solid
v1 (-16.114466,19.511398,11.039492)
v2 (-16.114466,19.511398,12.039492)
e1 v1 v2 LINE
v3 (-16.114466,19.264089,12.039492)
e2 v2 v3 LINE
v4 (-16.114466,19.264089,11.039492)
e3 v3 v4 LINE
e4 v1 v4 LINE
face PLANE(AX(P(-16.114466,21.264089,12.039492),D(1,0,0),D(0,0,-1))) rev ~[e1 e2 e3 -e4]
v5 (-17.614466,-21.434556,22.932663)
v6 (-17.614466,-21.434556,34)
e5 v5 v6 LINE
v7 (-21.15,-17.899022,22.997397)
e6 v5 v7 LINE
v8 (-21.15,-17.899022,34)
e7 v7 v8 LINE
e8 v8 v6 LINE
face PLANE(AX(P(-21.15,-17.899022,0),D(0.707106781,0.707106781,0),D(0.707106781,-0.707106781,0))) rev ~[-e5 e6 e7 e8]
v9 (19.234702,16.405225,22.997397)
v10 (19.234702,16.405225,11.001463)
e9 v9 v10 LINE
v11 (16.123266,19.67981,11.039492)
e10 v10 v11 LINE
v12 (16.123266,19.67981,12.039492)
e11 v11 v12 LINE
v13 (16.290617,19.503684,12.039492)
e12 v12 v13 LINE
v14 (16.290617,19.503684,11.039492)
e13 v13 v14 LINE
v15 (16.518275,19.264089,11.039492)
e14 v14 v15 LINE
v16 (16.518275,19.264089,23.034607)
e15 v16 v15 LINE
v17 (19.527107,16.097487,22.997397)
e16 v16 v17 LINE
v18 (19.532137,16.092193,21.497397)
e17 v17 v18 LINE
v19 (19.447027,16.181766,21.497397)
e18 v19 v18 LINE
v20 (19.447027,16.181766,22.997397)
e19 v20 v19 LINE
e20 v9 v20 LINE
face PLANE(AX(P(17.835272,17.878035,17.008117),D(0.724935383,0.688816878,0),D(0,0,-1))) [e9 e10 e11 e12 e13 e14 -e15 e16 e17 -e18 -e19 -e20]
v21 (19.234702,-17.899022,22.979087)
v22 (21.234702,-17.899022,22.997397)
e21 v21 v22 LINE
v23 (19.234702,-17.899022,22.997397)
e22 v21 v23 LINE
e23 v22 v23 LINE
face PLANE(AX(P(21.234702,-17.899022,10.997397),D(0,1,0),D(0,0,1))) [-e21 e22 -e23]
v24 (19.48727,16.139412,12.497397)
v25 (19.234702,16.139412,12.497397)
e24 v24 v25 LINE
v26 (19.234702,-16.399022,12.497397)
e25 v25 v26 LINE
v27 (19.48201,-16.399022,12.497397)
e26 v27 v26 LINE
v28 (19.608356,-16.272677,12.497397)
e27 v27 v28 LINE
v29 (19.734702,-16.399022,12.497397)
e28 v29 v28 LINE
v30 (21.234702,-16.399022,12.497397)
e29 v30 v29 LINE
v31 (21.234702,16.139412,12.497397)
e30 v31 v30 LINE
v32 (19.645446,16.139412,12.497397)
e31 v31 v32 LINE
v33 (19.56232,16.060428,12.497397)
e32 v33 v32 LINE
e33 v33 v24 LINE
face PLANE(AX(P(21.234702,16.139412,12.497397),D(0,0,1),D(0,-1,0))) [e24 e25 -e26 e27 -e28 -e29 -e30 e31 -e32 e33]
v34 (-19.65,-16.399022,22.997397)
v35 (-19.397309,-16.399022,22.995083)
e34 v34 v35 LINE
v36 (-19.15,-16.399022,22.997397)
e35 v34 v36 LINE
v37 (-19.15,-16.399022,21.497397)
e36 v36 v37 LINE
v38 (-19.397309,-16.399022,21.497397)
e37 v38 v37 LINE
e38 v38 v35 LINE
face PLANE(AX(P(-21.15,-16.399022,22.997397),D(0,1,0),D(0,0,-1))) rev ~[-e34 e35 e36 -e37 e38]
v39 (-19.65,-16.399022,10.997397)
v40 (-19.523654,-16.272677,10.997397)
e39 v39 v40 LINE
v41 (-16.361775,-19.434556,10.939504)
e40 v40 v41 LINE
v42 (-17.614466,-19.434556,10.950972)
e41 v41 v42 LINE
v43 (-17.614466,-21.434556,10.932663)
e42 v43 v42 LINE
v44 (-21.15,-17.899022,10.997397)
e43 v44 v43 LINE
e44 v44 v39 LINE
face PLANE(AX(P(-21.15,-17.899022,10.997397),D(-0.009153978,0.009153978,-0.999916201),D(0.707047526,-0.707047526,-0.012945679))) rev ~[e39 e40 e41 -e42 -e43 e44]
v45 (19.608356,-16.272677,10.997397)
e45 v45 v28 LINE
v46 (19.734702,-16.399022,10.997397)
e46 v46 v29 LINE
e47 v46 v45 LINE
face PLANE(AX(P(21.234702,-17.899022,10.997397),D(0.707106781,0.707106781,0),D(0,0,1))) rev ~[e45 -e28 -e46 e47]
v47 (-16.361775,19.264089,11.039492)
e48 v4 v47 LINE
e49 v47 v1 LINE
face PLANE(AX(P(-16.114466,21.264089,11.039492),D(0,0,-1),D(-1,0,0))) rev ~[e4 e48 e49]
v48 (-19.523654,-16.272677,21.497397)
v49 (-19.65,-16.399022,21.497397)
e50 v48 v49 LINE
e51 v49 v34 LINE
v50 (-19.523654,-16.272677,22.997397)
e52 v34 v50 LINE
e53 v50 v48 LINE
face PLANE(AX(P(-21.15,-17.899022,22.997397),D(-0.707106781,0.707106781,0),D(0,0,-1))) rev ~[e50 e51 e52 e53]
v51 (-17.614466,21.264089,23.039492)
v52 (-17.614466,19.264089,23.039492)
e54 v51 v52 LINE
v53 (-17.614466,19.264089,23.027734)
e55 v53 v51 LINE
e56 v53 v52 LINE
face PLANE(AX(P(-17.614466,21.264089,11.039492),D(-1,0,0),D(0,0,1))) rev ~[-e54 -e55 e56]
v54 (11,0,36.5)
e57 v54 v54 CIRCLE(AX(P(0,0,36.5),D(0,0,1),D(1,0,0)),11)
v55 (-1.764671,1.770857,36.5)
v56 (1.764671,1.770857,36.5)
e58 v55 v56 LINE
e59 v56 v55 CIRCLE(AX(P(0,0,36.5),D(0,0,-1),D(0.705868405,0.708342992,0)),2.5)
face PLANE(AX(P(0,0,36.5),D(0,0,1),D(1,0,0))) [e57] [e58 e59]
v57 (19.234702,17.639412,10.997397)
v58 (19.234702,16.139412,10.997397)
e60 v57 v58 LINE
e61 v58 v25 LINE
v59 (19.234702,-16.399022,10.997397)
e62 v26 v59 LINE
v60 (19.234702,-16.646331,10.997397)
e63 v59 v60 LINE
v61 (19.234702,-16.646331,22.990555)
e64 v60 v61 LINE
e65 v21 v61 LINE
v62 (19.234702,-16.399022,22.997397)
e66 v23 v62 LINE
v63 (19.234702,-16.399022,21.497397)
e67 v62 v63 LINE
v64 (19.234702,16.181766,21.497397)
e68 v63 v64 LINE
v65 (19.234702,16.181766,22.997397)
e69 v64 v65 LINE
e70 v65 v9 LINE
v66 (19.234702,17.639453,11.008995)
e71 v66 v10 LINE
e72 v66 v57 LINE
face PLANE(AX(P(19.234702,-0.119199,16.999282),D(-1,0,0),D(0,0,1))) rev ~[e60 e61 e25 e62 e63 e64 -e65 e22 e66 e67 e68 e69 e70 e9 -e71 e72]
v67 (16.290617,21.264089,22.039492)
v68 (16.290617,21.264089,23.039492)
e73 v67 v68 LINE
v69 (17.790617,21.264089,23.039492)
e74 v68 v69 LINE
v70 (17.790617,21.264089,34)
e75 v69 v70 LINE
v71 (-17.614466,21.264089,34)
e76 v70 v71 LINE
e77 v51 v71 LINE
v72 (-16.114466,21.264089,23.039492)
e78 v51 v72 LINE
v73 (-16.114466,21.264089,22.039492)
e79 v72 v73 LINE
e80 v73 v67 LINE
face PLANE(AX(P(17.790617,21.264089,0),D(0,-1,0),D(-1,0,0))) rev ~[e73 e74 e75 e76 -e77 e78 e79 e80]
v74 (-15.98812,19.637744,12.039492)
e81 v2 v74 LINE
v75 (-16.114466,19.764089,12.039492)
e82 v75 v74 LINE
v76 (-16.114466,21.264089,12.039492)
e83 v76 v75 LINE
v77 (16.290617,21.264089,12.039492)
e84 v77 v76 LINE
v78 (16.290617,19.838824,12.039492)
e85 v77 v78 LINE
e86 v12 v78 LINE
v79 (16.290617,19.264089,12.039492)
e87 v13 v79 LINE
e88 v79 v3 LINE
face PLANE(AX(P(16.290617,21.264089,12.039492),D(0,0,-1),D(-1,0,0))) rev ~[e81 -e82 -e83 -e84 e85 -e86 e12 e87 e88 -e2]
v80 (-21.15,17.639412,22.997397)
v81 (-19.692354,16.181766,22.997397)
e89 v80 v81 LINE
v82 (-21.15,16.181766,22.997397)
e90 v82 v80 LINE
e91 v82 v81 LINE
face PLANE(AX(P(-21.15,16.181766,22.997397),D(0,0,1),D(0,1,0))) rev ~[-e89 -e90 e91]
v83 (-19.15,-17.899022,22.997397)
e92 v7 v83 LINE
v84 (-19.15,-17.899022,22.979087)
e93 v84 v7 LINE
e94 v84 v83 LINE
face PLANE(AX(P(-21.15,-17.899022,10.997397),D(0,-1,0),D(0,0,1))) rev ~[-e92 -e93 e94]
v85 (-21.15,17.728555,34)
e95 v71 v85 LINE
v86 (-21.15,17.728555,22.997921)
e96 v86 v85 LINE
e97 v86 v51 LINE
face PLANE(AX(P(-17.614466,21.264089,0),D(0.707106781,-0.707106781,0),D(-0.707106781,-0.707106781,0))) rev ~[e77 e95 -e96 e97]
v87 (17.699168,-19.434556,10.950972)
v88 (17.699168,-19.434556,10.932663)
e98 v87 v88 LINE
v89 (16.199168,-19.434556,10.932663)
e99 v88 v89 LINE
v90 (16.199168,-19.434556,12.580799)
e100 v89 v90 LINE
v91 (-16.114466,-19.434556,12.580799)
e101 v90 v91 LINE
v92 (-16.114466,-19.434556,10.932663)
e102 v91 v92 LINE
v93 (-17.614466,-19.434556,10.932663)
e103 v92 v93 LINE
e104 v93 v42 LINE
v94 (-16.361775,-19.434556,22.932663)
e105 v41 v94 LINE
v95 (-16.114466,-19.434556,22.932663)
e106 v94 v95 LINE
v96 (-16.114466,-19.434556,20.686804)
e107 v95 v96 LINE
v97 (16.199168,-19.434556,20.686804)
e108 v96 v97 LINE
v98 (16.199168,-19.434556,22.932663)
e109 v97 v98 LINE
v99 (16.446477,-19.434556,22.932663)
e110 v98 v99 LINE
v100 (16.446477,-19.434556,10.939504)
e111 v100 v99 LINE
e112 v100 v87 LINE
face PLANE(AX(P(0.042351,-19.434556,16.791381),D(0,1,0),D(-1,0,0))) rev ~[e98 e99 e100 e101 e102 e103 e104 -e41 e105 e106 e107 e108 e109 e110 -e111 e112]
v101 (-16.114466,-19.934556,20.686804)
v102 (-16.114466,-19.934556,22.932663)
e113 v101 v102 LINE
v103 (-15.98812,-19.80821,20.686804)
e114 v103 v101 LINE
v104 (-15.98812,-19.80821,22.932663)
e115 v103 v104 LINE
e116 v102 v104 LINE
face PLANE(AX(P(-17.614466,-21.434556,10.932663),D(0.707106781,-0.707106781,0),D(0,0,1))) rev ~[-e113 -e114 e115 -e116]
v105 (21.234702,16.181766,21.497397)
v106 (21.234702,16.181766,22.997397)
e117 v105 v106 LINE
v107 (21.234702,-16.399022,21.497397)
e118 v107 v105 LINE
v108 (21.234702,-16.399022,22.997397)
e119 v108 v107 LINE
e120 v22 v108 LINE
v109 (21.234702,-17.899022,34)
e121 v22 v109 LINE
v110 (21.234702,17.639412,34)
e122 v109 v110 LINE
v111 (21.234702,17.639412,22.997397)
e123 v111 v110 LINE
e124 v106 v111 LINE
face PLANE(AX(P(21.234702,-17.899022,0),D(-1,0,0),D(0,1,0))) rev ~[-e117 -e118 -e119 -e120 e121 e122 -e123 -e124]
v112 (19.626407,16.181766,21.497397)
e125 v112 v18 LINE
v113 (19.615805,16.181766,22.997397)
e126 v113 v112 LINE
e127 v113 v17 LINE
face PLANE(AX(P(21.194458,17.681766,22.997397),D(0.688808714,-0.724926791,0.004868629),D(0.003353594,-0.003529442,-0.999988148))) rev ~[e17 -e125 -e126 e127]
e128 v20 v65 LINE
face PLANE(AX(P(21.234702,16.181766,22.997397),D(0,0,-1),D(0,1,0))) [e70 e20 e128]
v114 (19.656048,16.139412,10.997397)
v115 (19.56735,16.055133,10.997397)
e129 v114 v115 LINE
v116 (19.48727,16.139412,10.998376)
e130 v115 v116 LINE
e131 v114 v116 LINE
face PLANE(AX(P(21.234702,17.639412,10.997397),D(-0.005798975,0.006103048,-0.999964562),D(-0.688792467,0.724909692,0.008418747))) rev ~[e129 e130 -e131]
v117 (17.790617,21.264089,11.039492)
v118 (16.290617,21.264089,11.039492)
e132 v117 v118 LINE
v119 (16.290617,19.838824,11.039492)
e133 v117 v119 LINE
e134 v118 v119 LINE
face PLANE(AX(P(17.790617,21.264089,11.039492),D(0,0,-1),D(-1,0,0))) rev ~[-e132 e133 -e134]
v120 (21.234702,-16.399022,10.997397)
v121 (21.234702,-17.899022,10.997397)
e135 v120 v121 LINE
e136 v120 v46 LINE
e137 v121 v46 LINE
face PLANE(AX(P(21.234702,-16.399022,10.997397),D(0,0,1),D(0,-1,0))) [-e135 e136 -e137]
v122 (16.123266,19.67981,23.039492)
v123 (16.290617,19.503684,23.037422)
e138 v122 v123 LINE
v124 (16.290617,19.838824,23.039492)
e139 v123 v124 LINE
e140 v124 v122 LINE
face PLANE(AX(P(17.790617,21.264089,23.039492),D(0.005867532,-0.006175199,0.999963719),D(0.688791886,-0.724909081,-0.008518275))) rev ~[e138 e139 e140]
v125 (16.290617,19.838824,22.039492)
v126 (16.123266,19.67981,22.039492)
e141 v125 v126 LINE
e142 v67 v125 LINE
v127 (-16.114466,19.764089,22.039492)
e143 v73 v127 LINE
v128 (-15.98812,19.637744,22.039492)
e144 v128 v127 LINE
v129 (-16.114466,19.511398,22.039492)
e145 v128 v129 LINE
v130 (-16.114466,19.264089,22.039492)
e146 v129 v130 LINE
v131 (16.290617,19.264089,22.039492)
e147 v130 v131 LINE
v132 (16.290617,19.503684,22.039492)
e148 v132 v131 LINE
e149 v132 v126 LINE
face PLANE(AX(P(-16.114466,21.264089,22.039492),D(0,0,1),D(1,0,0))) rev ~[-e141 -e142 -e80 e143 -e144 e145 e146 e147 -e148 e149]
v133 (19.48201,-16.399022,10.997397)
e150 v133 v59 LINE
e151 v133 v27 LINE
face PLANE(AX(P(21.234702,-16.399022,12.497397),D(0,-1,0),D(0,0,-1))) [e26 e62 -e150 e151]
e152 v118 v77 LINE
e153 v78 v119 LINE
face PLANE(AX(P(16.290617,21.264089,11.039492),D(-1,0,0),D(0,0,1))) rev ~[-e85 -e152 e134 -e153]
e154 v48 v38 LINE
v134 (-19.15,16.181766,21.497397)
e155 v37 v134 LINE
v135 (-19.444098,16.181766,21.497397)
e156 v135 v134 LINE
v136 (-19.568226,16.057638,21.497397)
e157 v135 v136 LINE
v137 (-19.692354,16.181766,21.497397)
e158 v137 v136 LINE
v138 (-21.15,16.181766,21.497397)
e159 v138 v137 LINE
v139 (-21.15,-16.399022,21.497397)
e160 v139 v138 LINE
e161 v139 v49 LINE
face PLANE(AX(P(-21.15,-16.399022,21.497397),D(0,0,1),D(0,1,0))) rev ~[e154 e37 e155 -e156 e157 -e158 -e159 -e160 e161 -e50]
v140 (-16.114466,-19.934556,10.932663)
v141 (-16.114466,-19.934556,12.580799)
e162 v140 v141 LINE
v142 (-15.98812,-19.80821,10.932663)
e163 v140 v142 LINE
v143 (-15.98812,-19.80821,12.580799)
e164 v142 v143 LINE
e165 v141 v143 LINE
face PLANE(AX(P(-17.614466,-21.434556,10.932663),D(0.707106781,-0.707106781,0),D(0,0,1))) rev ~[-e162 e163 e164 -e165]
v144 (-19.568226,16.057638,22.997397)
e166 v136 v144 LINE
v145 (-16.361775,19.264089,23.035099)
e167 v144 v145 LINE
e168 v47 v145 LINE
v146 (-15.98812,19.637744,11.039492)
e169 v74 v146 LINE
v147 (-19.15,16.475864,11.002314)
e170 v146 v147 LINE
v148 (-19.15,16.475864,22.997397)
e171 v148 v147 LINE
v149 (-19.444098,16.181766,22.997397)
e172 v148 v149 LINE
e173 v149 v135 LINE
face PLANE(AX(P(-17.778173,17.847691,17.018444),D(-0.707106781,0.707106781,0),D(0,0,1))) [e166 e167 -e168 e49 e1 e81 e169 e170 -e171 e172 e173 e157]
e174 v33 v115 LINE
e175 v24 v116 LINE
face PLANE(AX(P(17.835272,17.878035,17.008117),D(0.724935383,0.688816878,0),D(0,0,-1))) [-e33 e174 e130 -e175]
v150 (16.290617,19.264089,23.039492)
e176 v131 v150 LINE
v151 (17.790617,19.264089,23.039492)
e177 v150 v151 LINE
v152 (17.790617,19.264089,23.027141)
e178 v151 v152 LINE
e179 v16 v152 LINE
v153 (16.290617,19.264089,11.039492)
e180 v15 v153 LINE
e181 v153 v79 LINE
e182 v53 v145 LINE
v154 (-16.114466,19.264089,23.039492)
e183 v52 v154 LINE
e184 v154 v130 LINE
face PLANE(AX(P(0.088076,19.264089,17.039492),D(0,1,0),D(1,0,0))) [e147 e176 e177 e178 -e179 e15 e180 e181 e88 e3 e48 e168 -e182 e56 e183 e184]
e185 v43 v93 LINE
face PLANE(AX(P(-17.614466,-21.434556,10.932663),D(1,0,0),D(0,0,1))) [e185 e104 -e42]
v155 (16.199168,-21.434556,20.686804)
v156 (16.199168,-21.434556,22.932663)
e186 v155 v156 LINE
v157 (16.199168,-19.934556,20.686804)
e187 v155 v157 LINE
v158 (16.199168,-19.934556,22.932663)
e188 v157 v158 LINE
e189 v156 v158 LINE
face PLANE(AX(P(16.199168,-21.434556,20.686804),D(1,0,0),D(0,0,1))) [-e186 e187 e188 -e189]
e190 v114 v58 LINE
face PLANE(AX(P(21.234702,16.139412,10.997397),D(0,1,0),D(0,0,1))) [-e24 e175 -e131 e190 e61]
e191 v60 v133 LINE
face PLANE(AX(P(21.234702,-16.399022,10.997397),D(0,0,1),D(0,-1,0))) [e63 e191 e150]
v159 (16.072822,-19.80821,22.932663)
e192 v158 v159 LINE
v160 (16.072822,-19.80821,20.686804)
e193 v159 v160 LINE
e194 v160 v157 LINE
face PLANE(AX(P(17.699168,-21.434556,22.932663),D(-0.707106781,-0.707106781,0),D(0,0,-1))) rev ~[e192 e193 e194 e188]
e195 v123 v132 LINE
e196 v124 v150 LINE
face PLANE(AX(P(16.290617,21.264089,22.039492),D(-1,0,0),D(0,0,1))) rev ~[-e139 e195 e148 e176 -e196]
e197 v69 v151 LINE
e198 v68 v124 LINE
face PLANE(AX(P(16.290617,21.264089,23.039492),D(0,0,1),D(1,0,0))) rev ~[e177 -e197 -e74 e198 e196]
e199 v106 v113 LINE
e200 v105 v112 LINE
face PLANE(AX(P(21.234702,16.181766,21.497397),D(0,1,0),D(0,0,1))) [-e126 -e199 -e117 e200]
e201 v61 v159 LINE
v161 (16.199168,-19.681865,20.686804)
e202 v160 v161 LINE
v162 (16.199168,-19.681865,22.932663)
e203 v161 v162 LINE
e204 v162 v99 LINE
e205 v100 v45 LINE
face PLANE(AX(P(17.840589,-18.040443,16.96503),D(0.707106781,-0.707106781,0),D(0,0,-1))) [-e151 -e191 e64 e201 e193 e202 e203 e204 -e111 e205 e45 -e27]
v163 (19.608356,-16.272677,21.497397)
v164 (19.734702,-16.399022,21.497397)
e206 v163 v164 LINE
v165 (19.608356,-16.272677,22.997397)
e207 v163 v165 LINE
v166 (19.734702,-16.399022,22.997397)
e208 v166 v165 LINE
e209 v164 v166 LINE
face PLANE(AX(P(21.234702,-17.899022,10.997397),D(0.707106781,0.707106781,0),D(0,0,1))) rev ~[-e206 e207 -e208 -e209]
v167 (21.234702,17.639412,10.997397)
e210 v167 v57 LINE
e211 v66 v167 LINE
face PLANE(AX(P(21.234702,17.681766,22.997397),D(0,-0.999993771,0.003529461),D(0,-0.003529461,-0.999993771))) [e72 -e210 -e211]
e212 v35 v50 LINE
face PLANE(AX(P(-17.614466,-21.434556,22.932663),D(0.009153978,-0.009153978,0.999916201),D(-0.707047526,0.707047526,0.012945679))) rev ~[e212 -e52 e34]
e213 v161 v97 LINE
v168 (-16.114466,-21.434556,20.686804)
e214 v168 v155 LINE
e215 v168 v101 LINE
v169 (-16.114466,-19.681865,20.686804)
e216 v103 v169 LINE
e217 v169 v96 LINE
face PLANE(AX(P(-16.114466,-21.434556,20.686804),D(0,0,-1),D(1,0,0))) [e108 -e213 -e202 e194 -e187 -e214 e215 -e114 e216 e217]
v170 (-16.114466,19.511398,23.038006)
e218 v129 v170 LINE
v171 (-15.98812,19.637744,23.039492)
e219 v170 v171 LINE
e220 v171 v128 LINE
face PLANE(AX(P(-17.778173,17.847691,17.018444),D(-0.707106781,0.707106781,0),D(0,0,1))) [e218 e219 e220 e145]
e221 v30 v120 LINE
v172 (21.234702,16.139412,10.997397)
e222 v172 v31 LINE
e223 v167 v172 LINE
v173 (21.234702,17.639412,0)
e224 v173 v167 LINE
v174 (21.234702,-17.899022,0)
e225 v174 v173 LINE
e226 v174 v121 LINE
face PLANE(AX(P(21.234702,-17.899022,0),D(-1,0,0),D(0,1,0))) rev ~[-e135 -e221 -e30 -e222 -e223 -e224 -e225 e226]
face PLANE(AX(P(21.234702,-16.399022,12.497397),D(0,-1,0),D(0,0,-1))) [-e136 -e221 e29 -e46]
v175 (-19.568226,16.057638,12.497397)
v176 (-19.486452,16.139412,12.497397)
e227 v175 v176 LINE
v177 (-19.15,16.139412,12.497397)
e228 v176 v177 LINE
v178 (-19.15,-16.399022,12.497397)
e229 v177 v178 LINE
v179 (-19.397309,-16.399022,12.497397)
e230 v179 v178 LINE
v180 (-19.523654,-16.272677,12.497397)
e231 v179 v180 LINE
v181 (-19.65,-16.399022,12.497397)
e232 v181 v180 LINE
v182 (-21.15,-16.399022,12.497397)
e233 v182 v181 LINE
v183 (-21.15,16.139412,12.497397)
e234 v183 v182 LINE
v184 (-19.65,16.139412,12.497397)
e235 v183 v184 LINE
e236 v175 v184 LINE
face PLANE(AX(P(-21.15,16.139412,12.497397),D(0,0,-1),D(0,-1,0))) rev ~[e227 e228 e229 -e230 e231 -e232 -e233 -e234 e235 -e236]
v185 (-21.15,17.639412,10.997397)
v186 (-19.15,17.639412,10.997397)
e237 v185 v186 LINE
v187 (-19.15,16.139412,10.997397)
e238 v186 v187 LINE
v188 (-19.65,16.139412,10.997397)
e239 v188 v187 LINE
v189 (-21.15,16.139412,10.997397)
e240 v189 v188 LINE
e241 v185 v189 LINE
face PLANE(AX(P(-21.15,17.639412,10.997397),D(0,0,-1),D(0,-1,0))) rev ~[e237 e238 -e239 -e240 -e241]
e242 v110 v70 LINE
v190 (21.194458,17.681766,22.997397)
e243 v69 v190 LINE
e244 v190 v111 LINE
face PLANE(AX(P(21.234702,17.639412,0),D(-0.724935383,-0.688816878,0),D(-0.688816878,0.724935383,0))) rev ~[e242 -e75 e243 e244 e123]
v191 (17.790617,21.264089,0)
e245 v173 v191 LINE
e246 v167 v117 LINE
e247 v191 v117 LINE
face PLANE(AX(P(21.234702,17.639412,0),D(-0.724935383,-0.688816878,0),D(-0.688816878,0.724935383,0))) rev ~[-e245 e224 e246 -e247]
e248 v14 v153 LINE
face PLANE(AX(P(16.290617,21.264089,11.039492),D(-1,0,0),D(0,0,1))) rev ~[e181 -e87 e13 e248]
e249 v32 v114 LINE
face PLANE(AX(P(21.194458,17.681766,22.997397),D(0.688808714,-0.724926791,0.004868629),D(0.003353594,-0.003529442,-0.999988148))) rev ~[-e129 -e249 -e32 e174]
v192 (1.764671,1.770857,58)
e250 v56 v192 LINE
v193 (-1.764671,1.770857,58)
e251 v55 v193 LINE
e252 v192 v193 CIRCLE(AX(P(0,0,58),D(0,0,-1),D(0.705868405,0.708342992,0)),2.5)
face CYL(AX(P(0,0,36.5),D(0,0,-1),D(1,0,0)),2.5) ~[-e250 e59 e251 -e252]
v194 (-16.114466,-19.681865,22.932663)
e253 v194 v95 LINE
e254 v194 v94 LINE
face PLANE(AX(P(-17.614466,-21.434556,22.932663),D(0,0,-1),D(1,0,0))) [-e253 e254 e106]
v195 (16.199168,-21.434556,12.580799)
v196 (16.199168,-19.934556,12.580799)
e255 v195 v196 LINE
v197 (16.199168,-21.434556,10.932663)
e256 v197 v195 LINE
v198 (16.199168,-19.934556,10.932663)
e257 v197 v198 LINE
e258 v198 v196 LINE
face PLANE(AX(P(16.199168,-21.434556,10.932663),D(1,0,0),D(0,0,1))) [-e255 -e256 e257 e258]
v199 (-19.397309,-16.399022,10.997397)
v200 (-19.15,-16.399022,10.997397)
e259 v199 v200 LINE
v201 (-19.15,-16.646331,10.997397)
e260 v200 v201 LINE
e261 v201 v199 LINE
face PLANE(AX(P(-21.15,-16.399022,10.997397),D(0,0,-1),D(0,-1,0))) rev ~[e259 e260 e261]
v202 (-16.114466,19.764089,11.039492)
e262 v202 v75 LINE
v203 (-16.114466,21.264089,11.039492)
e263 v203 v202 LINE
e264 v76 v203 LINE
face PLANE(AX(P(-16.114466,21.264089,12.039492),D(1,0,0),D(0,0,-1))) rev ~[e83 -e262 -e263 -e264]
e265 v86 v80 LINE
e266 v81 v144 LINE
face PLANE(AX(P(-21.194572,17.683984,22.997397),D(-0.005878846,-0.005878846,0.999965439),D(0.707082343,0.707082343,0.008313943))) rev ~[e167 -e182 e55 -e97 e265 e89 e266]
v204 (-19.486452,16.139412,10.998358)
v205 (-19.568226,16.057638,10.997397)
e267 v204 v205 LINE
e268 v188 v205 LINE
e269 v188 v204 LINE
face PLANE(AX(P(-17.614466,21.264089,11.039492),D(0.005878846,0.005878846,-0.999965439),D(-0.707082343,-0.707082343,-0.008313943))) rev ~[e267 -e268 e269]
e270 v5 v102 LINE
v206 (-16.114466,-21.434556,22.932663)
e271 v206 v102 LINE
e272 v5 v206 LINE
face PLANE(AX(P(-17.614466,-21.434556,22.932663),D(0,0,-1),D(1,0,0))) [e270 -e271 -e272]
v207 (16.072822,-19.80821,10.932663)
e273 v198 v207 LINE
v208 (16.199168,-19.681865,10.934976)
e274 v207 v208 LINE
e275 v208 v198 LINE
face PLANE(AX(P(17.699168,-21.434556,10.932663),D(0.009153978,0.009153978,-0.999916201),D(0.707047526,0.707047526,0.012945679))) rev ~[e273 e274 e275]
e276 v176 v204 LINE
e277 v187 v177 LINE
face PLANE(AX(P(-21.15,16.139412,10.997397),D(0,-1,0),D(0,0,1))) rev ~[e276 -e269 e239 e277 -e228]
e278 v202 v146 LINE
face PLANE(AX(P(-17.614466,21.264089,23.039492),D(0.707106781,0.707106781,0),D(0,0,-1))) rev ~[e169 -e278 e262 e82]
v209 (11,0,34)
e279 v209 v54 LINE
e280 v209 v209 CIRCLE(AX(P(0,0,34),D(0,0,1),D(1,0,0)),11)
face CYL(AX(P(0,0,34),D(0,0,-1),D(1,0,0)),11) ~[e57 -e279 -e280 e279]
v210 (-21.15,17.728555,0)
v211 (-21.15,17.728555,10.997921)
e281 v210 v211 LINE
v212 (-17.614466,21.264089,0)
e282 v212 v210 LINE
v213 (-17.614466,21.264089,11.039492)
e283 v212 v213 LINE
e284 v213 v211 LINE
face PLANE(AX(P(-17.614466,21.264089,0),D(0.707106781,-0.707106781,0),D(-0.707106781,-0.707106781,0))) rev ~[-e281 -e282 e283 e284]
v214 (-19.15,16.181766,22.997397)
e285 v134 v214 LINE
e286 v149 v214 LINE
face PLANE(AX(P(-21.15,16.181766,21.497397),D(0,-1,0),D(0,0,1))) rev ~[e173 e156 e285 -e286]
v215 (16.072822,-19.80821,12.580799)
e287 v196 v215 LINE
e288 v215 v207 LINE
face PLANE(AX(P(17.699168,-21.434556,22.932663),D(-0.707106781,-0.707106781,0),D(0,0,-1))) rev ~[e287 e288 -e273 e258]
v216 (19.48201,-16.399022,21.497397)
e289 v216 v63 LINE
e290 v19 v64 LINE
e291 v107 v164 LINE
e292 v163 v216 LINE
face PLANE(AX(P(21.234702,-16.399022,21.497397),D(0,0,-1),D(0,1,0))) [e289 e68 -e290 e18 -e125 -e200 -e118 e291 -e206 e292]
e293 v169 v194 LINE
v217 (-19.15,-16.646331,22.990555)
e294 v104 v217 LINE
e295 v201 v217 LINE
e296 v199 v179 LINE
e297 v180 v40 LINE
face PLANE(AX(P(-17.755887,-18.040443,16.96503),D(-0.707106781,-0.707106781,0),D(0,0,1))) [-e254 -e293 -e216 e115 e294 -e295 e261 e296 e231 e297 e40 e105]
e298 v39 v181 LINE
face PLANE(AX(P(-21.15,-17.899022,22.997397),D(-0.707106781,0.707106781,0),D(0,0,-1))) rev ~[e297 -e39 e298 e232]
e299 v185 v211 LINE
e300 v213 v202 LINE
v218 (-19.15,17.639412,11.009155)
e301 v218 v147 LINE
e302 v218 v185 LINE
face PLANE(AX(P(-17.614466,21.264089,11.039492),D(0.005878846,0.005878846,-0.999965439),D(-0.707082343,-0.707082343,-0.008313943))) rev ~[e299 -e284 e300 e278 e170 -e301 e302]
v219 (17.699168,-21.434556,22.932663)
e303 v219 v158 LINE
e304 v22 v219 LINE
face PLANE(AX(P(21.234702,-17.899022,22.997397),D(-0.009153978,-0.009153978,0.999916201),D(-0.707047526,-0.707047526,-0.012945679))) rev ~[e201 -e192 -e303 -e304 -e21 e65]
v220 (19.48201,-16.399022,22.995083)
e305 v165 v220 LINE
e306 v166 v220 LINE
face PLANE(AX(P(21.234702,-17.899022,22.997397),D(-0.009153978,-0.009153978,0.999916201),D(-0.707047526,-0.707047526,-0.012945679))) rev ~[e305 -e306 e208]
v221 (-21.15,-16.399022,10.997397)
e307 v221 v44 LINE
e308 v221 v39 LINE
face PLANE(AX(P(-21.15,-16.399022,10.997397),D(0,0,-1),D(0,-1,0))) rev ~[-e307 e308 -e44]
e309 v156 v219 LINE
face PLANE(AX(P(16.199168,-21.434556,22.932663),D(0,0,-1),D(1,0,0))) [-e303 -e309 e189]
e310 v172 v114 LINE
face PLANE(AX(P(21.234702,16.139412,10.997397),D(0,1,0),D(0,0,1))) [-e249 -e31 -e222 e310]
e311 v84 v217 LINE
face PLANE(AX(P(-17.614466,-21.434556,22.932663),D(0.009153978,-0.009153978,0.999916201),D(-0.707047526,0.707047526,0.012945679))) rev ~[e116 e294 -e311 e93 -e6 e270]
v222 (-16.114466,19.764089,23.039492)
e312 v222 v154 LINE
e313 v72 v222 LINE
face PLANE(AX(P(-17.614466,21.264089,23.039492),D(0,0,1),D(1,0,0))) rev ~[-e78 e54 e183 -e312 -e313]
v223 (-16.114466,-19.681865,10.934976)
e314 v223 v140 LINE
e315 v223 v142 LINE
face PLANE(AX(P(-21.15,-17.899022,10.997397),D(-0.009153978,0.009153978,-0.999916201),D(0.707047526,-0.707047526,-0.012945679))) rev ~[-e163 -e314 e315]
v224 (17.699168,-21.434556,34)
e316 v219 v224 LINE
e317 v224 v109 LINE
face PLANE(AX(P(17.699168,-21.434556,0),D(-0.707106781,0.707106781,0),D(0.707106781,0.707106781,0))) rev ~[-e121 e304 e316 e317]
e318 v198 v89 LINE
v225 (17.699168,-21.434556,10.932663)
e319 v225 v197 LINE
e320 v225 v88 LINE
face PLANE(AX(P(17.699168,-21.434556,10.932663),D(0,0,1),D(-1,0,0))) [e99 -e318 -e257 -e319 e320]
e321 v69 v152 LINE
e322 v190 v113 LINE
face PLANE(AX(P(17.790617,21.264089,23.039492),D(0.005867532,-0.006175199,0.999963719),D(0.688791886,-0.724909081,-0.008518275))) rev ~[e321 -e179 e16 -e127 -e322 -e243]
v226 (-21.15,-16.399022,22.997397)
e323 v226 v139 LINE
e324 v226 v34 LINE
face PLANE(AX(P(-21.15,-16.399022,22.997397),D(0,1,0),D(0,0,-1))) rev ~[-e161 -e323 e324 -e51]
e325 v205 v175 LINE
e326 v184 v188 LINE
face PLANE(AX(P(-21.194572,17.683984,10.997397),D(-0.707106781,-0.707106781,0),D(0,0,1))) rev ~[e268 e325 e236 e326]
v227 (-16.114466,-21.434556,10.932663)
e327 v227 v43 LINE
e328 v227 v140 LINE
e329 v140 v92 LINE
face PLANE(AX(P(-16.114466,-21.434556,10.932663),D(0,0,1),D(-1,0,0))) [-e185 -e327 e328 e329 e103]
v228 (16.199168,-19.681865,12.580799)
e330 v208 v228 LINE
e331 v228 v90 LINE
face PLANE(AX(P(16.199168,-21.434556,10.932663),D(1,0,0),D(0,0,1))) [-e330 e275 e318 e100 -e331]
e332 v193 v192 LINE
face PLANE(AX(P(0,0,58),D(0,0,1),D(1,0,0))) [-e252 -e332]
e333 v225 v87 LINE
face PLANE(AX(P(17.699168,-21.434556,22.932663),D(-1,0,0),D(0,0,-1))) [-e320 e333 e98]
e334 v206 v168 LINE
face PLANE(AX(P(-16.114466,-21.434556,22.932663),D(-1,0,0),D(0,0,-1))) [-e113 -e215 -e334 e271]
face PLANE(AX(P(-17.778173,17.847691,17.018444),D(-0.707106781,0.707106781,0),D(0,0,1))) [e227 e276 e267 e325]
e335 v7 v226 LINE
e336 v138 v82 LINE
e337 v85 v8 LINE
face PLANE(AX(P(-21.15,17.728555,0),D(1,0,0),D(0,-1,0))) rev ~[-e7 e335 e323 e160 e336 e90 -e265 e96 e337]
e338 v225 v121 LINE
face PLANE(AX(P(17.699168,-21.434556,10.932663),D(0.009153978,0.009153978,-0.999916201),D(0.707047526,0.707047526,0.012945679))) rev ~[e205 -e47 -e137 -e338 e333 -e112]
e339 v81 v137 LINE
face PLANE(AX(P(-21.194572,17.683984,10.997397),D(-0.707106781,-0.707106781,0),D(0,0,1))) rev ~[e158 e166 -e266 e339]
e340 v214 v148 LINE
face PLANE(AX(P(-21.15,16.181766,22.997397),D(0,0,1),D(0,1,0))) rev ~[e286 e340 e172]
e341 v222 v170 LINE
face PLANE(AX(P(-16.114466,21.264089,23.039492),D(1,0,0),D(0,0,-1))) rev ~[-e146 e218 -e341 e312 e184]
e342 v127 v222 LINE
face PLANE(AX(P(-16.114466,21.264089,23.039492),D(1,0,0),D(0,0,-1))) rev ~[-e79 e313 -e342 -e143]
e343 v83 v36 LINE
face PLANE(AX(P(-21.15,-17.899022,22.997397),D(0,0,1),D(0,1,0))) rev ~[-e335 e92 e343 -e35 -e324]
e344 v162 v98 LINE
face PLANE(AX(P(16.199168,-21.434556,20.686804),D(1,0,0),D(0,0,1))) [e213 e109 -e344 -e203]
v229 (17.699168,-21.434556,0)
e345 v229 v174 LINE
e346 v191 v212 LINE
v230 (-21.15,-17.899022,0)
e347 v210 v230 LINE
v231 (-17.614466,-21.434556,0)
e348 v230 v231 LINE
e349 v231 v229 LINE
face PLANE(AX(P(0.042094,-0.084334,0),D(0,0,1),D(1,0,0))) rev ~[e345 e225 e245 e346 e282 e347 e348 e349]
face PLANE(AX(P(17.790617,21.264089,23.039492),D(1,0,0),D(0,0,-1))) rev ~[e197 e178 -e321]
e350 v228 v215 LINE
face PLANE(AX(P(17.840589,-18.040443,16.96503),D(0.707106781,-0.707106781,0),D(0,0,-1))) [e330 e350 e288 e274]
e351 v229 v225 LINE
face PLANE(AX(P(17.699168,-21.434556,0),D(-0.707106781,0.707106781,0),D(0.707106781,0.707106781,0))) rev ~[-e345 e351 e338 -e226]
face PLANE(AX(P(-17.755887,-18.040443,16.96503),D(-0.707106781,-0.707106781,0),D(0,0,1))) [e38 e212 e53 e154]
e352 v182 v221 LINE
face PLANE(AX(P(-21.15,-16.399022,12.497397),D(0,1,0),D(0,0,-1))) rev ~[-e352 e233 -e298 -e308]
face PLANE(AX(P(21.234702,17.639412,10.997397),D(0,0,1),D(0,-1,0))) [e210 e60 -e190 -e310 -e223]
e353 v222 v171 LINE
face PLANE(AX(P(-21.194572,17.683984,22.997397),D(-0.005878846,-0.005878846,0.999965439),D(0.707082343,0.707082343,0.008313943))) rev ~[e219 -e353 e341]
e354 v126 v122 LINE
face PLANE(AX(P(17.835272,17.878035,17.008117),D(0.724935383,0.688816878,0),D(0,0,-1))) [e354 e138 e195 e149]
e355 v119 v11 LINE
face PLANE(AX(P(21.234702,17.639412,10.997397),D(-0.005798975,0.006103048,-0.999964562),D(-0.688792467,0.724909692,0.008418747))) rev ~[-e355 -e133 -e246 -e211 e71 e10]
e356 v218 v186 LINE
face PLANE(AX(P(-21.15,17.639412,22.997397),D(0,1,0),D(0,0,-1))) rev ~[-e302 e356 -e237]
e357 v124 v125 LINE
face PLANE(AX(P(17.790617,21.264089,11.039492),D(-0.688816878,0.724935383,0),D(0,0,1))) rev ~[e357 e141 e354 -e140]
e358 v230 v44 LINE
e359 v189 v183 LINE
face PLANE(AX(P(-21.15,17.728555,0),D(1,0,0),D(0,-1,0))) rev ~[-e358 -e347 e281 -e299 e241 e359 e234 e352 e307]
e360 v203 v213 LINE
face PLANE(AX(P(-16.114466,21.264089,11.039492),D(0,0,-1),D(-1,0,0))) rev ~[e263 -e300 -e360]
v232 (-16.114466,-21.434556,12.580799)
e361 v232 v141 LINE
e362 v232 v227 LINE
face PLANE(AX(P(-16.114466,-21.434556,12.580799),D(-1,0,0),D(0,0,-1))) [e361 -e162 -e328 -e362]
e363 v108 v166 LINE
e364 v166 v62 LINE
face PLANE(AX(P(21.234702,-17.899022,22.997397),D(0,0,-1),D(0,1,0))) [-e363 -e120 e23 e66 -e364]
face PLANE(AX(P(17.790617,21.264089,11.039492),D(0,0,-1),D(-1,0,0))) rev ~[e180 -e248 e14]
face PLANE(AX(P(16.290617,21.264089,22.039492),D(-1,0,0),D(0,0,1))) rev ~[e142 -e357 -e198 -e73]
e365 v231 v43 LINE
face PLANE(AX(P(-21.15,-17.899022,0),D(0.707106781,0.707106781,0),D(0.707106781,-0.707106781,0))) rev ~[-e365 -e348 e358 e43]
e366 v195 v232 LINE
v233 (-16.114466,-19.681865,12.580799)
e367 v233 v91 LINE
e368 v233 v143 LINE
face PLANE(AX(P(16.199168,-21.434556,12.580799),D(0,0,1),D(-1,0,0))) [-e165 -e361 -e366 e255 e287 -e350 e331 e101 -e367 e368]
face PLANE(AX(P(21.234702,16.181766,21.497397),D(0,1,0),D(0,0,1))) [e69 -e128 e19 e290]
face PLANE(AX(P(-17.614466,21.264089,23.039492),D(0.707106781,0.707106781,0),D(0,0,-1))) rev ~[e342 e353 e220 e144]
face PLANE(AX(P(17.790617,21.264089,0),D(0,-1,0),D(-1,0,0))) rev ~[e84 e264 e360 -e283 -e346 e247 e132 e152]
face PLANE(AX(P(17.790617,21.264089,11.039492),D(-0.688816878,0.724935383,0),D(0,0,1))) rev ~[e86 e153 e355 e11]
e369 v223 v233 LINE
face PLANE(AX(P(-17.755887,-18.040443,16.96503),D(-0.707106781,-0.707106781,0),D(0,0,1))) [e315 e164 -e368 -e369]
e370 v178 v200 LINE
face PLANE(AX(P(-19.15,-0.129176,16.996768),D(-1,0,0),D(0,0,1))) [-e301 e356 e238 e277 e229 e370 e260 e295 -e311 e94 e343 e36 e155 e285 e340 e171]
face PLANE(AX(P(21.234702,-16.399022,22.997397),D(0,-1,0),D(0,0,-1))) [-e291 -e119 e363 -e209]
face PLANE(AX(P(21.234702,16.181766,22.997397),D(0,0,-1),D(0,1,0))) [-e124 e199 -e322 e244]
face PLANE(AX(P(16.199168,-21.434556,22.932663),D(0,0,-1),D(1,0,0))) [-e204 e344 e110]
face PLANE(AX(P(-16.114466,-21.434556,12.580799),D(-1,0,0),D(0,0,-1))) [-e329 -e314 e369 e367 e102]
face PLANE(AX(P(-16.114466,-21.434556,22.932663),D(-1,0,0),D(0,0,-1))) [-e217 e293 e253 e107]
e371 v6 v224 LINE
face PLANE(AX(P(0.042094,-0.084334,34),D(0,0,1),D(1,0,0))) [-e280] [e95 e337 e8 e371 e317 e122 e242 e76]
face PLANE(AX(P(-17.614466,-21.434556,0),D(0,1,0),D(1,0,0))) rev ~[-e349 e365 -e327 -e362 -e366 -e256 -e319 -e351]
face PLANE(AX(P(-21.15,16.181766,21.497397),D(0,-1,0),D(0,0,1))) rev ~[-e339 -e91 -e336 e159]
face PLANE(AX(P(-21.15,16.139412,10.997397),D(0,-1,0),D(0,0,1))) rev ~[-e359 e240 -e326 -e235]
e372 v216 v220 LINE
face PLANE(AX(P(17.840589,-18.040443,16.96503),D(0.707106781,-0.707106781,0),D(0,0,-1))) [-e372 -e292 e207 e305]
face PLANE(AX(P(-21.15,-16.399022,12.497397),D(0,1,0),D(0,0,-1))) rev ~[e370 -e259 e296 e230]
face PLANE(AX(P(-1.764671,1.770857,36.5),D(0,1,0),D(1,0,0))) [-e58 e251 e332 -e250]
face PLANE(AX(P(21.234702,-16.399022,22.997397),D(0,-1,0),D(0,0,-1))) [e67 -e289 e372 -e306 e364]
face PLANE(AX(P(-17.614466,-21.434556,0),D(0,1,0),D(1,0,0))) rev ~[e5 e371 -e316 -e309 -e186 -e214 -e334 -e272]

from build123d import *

# Parameters (mm, degrees)
BOSS_EXTRUDE1_DEPTH = 34
SKETCH2_R           = 11
BOSS_EXTRUDE2_DEPTH = 2.5
SKETCH3_R           = 2.5
BOSS_EXTRUDE3_DEPTH = 21.5
CUT_EXTRUDE3_DEPTH  = 2
CUT_EXTRUDE4_DEPTH  = 2
CUT_EXTRUDE5_DEPTH  = 2.3
CUT_EXTRUDE6_DEPTH  = 2.3
CUT_EXTRUDE7_DEPTH  = 2
CUT_EXTRUDE9_DEPTH  = 2
CUT_EXTRUDE10_DEPTH = 2.3
CUT_EXTRUDE11_DEPTH = 2.3
CUT_EXTRUDE12_START = -21.5
CUT_EXTRUDE12_DEPTH = 21.5


with BuildPart() as part:
    # Sketch1 → Boss-Extrude1 (new body)
    with BuildSketch(Plane.XY):
        Polygon((-17.614466094, 21.264089132), (-21.15, 17.728555226), (-21.15, -17.899022103), (-17.614466094, -21.434556009), (17.699167724, -21.434556009), (21.23470163, -17.899022103), (21.23470163, 17.639412218), (17.790617242, 21.264089132), align=None)
    extrude(amount=BOSS_EXTRUDE1_DEPTH)

    # Sketch2 → Boss-Extrude2 (add)
    with BuildSketch(Plane.XY.offset(34)):
        Circle(SKETCH2_R)
    extrude(amount=BOSS_EXTRUDE2_DEPTH)

    # Sketch3 → Boss-Extrude3 (add)
    with BuildSketch(Plane.XY.offset(36.5)):
        Circle(SKETCH3_R)
    extrude(amount=BOSS_EXTRUDE3_DEPTH)

    # Sketch7 → Cut-Extrude3 (cut)
    with BuildSketch(Plane(origin=(21.23470163, 0, 0), x_dir=(0, 0, -1), z_dir=(1, 0, 0))):
        Polygon((-22.997396737, 17.681766019), (-10.997396737, 17.639412218), (-10.997396737, 16.139412218), (-12.497396737, 16.139412218), (-12.497396737, -16.399022103), (-10.997396737, -16.399022103), (-10.997396737, -17.899022103), (-22.997396737, -17.899022103), (-22.997396737, -16.399022103), (-21.497396737, -16.399022103), (-21.497396737, 16.181766019), (-22.997396737, 16.181766019), align=None)
    extrude(amount=-CUT_EXTRUDE3_DEPTH, mode=Mode.SUBTRACT)

    # Sketch6 → Cut-Extrude4 (cut)
    with BuildSketch(Plane(origin=(0, 21.264089132, 0), x_dir=(1, 0, 0), z_dir=(0, 1, 0))):
        Polygon((-17.614466094, -11.039491966), (-17.614466094, -23.039491966), (-16.114466094, -23.039491966), (-16.114466094, -22.039491966), (16.290617242, -22.039491966), (16.290617242, -23.039491966), (17.790617242, -23.039491966), (17.790617242, -11.039491966), (16.290617242, -11.039491966), (16.290617242, -12.039491966), (-16.114466094, -12.039491966), (-16.114466094, -11.039491966), align=None)
    extrude(amount=-CUT_EXTRUDE4_DEPTH, mode=Mode.SUBTRACT)

    # Sketch8 → Cut-Extrude5 (cut)
    with BuildSketch(Plane(origin=(19.96770094, 18.97284881, 0), x_dir=(0, 0, -1), z_dir=(0.724935382761137, 0.6888168775668638, 0))):
        Polygon((-23.039491966, 3.160613175), (-22.997396737, -1.780962582), (-10.997396737, -1.839386825), (-11.039491966, 3.160613175), align=None)
    extrude(amount=-CUT_EXTRUDE5_DEPTH, mode=Mode.SUBTRACT)

    # Sketch10 → Cut-Extrude6 (cut)
    with BuildSketch(Plane(origin=(19.566861866, -19.566861866, 0), x_dir=(0, 0, -1), z_dir=(0.707106781186553, -0.7071067811865421, 0))):
        Polygon((-22.997396737, 2.358681613), (-22.932662916, -2.641318387), (-10.932662916, -2.641318387), (-10.997396737, 2.358681613), align=None)
    extrude(amount=-CUT_EXTRUDE6_DEPTH, mode=Mode.SUBTRACT)

    # Sketch9 → Cut-Extrude7 (cut)
    with BuildSketch(Plane.XZ.offset(21.434556009)):
        Polygon((17.699167724, 22.932662916), (17.699167724, 10.932662916), (16.199167724, 10.932662916), (16.199167724, 12.580798856), (-16.114466094, 12.580798856), (-16.114466094, 10.932662916), (-17.614466094, 10.932662916), (-17.614466094, 22.932662916), (-16.114466094, 22.932662916), (-16.114466094, 20.686804388), (16.199167724, 20.686804388), (16.199167724, 22.932662916), align=None)
    extrude(amount=-CUT_EXTRUDE7_DEPTH, mode=Mode.SUBTRACT)

    # Sketch13 → Cut-Extrude9 (cut)
    with BuildSketch(Plane.ZY.offset(21.15)):
        Polygon((22.997396737, 17.639412218), (10.997396737, 17.639412218), (10.997396737, 16.139412218), (12.497396737, 16.139412218), (12.497396737, -16.399022103), (10.997396737, -16.399022103), (10.997396737, -17.899022103), (22.997396737, -17.899022103), (22.997396737, -16.399022103), (21.497396737, -16.399022103), (21.497396737, 16.181766019), (22.997396737, 16.181766019), align=None)
    extrude(amount=-CUT_EXTRUDE9_DEPTH, mode=Mode.SUBTRACT)

    # Sketch14 → Cut-Extrude10 (cut)
    with BuildSketch(Plane(origin=(-19.439277613, 19.439277613, 0), x_dir=(0, 0, 1), z_dir=(-0.707106781186543, 0.7071067811865521, 0))):
        Polygon((11.039491966, 2.580673199), (10.997396737, -2.482360427), (22.997396737, -2.482360427), (23.039491966, 2.580673199), align=None)
    extrude(amount=-CUT_EXTRUDE10_DEPTH, mode=Mode.SUBTRACT)

    # Sketch15 → Cut-Extrude11 (cut)
    with BuildSketch(Plane(origin=(-19.524511051, -19.524511051, 0), x_dir=(0, 0, 1), z_dir=(-0.7071067811865381, -0.707106781186557, 0))):
        Polygon((10.997396737, 2.298788516), (10.932662916, -2.701211484), (22.932662916, -2.701211484), (22.997396737, 2.298788516), align=None)
    extrude(amount=-CUT_EXTRUDE11_DEPTH, mode=Mode.SUBTRACT)

    # Sketch16 → Cut-Extrude12 (cut)
    with BuildSketch(Plane.XY.offset(58).offset(CUT_EXTRUDE12_START)):
        with BuildLine():
            Line((-1.764671013, 1.770857481), (1.764671013, 1.770857481))
            ThreePointArc((1.764671013, 1.770857481), (0, 2.5), (-1.764671013, 1.770857481))
        make_face()
    extrude(amount=CUT_EXTRUDE12_DEPTH, mode=Mode.SUBTRACT)


solid = part.part
